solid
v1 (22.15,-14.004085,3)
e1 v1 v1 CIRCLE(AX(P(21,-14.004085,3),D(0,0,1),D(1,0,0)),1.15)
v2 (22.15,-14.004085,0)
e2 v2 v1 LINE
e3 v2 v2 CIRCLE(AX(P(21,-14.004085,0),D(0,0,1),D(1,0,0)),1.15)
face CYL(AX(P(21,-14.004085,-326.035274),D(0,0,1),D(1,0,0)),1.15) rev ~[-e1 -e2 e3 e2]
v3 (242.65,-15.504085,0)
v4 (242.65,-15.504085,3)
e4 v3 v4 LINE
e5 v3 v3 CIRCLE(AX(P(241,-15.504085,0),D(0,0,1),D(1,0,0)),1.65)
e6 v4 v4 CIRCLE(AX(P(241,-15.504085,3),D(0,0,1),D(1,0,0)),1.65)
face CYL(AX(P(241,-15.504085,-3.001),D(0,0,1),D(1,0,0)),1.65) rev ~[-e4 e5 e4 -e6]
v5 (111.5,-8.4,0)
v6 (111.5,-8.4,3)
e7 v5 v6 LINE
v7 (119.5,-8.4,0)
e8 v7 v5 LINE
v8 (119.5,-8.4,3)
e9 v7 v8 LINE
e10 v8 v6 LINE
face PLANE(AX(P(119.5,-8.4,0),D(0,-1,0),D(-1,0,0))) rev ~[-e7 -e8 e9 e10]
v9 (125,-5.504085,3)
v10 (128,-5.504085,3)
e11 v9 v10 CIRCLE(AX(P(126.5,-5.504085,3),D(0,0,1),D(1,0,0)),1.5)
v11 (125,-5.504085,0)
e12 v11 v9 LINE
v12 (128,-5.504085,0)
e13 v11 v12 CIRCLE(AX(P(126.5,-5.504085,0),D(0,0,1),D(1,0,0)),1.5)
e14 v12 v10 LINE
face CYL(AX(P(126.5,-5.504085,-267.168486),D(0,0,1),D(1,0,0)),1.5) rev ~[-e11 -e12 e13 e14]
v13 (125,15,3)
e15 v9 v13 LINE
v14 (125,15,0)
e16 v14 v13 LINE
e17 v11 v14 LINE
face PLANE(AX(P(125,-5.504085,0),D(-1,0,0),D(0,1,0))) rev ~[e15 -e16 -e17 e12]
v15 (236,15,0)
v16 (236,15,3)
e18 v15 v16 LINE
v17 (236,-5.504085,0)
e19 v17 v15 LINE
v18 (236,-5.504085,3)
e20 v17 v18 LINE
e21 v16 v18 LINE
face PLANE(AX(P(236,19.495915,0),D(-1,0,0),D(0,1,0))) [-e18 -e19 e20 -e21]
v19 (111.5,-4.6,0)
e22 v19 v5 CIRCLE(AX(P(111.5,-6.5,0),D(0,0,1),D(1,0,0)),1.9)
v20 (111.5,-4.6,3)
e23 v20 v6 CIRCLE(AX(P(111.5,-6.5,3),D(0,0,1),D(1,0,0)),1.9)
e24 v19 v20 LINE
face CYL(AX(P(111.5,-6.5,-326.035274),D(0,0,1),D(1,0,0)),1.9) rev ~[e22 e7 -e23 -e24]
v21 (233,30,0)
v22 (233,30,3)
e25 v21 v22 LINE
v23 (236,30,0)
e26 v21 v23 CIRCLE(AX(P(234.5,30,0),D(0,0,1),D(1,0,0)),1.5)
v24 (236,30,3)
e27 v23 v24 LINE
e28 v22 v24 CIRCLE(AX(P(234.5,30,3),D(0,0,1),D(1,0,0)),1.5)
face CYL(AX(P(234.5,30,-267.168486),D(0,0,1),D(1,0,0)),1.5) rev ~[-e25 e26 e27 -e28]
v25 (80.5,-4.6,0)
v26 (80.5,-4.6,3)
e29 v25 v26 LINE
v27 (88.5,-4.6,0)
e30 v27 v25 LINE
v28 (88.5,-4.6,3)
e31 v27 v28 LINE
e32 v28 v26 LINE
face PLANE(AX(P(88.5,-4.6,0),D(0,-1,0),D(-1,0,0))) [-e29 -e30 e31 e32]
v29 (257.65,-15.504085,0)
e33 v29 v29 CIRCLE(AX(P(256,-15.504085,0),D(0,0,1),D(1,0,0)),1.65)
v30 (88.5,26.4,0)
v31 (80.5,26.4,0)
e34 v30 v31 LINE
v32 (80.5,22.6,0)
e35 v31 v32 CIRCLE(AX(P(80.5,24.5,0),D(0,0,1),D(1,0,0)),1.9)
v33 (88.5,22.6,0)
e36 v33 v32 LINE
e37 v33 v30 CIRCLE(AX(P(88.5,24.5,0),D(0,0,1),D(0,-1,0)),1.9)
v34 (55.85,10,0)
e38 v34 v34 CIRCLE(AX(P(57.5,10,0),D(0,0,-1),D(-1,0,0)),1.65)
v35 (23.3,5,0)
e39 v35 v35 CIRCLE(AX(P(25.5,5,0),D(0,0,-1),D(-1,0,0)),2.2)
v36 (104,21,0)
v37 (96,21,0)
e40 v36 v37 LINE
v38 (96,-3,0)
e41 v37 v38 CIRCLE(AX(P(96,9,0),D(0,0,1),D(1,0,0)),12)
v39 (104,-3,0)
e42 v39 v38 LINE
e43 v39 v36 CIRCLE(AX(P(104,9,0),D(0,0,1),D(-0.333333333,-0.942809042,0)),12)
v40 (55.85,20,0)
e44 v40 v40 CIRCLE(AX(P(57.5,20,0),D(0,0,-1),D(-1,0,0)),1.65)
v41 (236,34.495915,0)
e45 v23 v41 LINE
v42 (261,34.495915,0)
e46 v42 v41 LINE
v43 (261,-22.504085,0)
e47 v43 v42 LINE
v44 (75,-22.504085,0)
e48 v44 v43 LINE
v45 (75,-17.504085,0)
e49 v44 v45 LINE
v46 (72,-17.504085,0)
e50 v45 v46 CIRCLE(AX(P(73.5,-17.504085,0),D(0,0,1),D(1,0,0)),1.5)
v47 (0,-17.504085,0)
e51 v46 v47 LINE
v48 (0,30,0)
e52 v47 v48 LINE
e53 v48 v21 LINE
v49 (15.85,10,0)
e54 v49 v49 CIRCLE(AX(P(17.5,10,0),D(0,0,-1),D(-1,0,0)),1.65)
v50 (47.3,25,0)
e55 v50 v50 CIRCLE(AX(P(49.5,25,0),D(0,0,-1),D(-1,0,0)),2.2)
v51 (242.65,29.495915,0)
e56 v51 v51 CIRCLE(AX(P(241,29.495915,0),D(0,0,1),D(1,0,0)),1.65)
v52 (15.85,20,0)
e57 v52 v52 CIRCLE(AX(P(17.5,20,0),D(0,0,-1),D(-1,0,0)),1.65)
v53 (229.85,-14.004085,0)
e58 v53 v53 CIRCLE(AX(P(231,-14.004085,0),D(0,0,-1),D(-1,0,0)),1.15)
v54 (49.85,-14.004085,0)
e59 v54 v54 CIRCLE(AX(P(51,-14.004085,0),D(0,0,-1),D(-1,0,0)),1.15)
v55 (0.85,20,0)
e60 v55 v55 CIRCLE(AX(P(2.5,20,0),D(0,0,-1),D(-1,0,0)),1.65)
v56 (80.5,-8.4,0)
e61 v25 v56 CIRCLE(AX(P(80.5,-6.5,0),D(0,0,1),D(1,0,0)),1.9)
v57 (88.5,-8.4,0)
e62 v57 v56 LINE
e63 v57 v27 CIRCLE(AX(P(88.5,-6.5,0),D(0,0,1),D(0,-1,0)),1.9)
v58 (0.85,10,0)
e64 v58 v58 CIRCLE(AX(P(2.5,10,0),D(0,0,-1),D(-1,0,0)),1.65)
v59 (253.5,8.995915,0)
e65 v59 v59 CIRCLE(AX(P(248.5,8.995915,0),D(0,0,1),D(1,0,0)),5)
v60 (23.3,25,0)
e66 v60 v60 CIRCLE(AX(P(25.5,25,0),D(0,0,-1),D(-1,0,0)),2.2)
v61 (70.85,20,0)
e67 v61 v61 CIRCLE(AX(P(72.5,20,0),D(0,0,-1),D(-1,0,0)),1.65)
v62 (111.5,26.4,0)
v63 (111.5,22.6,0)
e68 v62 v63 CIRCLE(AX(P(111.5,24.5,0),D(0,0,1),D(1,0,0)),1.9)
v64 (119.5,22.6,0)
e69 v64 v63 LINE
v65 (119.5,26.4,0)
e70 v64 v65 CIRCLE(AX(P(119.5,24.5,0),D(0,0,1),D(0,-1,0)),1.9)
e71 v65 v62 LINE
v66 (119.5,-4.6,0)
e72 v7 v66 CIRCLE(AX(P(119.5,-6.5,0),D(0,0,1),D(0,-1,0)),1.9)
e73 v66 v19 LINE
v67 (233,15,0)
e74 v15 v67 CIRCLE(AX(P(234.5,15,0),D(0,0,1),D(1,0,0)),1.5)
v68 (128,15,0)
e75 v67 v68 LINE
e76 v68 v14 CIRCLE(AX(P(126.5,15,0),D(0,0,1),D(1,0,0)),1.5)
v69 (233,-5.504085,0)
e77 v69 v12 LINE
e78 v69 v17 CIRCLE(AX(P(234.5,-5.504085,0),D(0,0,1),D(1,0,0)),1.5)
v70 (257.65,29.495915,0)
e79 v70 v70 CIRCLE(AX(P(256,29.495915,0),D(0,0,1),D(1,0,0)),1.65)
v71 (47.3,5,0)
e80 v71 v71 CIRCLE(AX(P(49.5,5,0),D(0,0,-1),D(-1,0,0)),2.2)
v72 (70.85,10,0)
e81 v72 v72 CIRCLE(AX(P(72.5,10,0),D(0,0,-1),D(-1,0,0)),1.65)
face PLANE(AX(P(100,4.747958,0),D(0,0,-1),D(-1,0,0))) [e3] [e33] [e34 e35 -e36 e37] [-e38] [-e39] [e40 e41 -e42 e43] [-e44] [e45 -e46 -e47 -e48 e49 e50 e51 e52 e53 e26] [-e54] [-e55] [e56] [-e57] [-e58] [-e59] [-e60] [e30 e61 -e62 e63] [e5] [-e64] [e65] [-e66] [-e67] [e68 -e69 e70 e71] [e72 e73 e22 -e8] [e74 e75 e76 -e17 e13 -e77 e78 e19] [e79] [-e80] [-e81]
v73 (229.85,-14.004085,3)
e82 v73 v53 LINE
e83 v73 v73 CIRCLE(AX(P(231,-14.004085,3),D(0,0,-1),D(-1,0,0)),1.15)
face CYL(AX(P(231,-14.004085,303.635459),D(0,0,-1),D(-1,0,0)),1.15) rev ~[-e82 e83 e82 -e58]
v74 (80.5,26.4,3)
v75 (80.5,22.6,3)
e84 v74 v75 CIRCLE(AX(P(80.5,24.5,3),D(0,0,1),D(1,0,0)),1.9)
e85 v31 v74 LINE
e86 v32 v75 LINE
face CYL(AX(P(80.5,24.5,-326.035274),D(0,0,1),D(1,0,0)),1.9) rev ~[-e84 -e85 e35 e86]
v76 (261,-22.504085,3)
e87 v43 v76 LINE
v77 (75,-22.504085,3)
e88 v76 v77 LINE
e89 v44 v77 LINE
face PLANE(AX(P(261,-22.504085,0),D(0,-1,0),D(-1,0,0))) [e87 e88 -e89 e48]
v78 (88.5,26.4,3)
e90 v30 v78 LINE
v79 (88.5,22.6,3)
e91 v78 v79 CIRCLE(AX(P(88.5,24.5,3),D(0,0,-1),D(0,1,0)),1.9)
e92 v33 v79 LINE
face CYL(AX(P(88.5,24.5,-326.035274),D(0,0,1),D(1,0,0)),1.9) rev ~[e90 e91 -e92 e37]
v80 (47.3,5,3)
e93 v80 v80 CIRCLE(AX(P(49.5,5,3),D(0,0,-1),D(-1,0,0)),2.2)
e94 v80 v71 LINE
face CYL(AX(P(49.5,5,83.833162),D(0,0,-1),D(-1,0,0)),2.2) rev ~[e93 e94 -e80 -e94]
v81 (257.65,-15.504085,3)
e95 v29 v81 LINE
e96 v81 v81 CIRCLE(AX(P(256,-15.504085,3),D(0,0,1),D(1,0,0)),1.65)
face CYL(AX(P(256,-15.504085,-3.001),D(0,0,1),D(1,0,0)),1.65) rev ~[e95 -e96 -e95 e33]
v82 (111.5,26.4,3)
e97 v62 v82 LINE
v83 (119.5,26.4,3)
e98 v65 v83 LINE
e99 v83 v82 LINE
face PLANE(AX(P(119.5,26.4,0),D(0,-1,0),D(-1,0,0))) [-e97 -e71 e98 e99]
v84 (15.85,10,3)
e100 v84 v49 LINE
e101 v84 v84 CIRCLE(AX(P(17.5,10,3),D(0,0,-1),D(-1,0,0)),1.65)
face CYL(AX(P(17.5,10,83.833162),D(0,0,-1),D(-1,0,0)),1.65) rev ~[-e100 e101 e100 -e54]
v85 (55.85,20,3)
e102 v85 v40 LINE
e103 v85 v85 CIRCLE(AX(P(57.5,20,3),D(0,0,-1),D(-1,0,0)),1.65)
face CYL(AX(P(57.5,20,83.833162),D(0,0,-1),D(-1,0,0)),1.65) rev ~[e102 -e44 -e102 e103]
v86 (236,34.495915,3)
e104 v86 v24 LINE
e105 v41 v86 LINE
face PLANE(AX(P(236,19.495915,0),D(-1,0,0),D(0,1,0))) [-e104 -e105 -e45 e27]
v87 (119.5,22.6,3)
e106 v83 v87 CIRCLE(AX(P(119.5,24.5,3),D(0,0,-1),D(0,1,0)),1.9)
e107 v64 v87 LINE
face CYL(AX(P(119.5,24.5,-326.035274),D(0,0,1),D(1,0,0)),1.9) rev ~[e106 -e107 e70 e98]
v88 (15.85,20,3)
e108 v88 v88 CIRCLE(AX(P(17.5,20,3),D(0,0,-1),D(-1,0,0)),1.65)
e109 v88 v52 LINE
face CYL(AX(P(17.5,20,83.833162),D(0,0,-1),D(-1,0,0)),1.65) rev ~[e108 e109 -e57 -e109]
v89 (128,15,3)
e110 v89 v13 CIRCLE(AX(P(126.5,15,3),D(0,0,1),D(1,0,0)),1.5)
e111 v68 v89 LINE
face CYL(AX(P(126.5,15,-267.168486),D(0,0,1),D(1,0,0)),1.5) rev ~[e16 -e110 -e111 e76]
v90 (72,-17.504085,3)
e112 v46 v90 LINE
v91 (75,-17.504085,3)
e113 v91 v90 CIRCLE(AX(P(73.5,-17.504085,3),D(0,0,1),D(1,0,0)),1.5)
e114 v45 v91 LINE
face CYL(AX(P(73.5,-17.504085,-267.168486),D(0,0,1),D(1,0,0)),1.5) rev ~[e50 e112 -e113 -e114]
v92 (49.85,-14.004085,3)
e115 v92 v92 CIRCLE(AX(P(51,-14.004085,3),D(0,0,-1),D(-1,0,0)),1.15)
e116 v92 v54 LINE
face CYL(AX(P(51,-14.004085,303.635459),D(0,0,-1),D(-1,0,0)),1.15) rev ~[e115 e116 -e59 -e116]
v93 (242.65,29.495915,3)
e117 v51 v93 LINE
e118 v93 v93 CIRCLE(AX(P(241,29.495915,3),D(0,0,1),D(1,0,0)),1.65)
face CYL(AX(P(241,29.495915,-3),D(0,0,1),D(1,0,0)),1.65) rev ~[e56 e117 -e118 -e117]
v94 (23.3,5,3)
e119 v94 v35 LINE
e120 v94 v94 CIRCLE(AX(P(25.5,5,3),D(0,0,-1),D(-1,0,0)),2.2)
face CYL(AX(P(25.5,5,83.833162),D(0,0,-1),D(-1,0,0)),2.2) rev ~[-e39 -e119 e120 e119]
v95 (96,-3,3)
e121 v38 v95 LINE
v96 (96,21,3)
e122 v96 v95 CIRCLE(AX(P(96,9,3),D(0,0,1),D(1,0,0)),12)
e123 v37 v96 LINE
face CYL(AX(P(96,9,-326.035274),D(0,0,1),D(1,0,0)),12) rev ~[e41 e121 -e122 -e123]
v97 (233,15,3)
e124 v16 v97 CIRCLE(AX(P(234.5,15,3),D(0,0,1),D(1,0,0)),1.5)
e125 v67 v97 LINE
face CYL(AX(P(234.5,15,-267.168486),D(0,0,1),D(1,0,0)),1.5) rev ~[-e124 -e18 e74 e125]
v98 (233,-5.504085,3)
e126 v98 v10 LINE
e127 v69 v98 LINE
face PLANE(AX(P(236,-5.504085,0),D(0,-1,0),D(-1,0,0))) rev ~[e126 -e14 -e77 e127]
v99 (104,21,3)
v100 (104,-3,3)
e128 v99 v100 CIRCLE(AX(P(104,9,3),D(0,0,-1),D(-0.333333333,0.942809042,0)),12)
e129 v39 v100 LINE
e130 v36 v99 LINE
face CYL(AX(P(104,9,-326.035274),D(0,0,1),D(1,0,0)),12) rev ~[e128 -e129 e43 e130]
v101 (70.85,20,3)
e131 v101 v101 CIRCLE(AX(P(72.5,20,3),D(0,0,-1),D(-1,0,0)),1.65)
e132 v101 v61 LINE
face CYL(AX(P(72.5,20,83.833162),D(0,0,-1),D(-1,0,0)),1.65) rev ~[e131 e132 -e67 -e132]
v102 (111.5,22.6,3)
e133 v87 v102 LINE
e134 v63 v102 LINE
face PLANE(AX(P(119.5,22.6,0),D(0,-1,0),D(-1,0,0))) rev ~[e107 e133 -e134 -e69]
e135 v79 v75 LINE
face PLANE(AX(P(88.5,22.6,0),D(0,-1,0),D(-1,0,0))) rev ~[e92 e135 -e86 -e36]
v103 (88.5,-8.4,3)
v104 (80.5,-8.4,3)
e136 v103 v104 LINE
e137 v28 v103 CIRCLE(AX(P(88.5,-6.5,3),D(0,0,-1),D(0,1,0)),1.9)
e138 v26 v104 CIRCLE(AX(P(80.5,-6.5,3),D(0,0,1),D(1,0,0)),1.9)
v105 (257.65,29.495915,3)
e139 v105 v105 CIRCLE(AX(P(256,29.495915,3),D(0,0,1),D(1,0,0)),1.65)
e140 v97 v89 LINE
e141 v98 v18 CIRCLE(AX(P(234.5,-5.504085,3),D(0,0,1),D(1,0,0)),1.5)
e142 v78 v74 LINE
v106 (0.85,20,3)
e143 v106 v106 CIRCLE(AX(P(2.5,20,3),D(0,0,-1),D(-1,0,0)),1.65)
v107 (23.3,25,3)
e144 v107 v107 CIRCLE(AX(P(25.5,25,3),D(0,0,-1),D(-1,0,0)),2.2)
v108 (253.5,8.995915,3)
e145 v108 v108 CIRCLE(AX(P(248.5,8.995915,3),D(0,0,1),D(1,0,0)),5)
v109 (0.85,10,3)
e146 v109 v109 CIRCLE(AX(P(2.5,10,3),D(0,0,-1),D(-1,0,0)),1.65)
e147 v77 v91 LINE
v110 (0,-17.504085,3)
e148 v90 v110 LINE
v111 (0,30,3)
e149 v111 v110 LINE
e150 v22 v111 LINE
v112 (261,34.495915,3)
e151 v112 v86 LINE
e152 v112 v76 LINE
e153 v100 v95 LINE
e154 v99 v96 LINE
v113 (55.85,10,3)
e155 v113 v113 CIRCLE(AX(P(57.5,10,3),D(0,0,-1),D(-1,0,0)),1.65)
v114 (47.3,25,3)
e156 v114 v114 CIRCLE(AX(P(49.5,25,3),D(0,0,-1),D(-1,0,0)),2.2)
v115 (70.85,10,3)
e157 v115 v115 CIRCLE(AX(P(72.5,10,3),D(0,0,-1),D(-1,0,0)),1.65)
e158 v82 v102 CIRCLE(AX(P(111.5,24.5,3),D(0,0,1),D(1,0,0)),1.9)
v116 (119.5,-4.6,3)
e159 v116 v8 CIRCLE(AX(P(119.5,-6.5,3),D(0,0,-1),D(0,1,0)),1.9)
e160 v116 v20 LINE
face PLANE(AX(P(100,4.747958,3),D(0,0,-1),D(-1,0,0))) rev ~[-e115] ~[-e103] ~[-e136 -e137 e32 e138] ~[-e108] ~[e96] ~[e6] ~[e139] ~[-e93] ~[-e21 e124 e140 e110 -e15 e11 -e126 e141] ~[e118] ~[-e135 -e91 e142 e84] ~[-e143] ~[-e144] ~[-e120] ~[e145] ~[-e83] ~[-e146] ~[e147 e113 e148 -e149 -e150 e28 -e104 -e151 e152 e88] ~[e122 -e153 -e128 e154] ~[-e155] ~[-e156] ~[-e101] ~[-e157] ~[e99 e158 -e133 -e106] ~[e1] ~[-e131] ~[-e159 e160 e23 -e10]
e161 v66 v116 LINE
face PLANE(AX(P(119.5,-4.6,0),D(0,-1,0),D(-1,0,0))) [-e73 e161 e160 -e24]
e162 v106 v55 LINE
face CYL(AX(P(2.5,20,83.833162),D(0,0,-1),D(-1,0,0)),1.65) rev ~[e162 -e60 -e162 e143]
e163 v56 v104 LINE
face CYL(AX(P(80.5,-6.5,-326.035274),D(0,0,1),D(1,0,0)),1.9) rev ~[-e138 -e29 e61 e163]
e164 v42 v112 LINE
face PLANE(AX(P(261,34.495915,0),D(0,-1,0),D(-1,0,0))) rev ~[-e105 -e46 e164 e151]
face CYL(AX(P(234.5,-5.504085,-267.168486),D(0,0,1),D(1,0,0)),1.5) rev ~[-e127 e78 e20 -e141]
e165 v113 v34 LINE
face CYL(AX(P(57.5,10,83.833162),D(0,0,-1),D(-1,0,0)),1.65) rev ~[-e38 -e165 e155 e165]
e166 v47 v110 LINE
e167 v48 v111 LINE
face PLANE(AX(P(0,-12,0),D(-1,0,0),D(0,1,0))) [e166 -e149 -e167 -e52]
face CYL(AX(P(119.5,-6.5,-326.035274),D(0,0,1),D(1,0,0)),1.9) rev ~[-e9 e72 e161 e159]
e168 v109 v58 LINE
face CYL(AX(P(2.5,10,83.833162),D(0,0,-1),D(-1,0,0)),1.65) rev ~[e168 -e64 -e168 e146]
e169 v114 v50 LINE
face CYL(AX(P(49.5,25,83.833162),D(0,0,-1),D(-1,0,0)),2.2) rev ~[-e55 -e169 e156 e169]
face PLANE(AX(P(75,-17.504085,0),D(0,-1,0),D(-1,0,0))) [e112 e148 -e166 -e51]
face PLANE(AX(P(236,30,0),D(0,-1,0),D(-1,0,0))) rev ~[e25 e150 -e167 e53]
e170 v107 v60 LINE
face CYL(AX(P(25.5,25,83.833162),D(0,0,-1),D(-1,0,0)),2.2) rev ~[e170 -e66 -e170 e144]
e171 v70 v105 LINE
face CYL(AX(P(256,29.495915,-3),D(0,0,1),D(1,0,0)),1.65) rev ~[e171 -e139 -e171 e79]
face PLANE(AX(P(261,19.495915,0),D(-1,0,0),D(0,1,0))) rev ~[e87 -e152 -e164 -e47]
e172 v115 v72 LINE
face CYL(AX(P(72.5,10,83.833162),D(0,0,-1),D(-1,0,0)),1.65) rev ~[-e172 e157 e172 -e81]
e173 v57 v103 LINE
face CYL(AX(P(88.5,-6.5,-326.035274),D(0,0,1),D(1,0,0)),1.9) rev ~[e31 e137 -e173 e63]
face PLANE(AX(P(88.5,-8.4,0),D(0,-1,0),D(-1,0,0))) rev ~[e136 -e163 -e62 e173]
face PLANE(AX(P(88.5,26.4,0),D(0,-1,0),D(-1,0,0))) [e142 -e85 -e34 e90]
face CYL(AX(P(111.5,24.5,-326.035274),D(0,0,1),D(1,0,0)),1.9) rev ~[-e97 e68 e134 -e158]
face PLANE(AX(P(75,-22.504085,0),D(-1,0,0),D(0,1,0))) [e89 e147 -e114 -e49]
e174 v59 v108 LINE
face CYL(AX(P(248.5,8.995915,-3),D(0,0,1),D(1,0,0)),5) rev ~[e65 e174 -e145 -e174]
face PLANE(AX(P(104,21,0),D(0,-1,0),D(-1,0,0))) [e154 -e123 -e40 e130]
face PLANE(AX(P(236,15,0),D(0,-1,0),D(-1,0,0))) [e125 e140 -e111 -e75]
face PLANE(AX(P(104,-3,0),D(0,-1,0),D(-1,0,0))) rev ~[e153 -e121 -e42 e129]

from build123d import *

# Parameters (mm, degrees)
SKETCH_1_W           = 75
SKETCH_1_H           = 30
EXTRUDE_1_DEPTH      = 3
HOLE_WIZARD_1_D      = 4.4
HOLE_WIZARD_2_D      = 3.3
SKETCH_8_W           = 45
SKETCH_8_H           = 42
EXTRUDE_2_DEPTH      = 3
HOLE_WIZARD_3_D      = 3.8
SKETCH_13_W          = 15
SKETCH_13_H          = 42
EXTRUDE_3_DEPTH      = 3
CUT_EXTRUDE_3_DEPTH  = 3
CUT_EXTRUDE_5_DEPTH  = 3
CUT_EXTRUDE_6_DEPTH  = 3
SKETCH_18_W          = 75
SKETCH_18_H          = 2.504084813
SKETCH_18_H_2        = 3
SKETCH_18_W_2        = 161
SKETCH_18_H_3        = 17
EXTRUDE_4_DEPTH      = 3
HOLE_WIZARD_4_D      = 2.3
SKETCH_22_W          = 25
SKETCH_22_H          = 42
EXTRUDE_5_DEPTH      = 3
HOLE_WIZARD_5_D      = 10
HOLE_WIZARD_5_DEPTH  = 3
HOLE_WIZARD_7_D      = 3.3
HOLE_WIZARD_7_DEPTH  = 3.001
SKETCH_31_W          = 25
SKETCH_31_H          = 15
EXTRUDE_6_DEPTH      = 3
HOLE_WIZARD_8_D      = 3.3
HOLE_WIZARD_8_DEPTH  = 3
SKETCH_36_W          = 161
SKETCH_36_H          = 15
EXTRUDE_7_DEPTH      = 3
HOLE_WIZARD_9_D      = 2.3
SKETCH_40_R          = 12
CUT_EXTRUDE_7_DEPTH  = 10
SKETCH_41_W          = 50
SKETCH_41_H          = 20.504084813
EXTRUDE_8_DEPTH      = 3
HOLE_WIZARD_10_D     = 3.8
HOLE_WIZARD_11_D     = 24
SKETCH_48_W          = 8
SKETCH_48_H          = 3.8
SKETCH_48_H_2        = 24
CUT_EXTRUDE_8_DEPTH  = 3
SKETCH_49_W          = 57
SKETCH_49_H          = 42
CUT_EXTRUDE_9_DEPTH  = 3
SKETCH_50_W          = 3
SKETCH_50_H          = 42
CUT_EXTRUDE_10_DEPTH = 3
SKETCH_51_W          = 75
SKETCH_51_H          = 5
CUT_EXTRUDE_11_DEPTH = 10
HOLE_WIZARD_12_D     = 3
HOLE_WIZARD_13_D     = 3


with BuildPart() as part:
    # 草图1 → 凸台-拉伸1 (new body)
    with BuildSketch(Plane.XY):
        with Locations((37.5, 15)):
            Rectangle(SKETCH_1_W, SKETCH_1_H)
    extrude(amount=EXTRUDE_1_DEPTH)

    # 孔1 (through all)
    with Locations(Plane.XY.offset(3)):
        with Locations((25.5, 25), (49.5, 25), (49.5, 5), (25.5, 5)):
            Hole(HOLE_WIZARD_1_D / 2)

    # 孔2 (through all)
    with Locations(Plane.XY.offset(3)):
        with Locations((2.5, 20), (17.5, 20), (17.5, 10), (2.5, 10), (57.5, 10), (57.5, 20), (72.5, 20), (72.5, 10)):
            Hole(HOLE_WIZARD_2_D / 2)

    # 草图8 → 凸台-拉伸2 (add)
    with BuildSketch(Plane(origin=(0, 0, 0), x_dir=(-1, 0, 0), z_dir=(0, 0, -1))):
        with Locations((22.5, 9)):
            Rectangle(SKETCH_8_W, SKETCH_8_H)
    extrude(amount=-EXTRUDE_2_DEPTH)

    # 孔3 (through all)
    with Locations(Plane.XY.offset(3)):
        with Locations((-39.5, 24.5), (-8.5, 24.5), (-8.5, -6.5), (-39.5, -6.5)):
            Hole(HOLE_WIZARD_3_D / 2)

    # 草图13 → 凸台-拉伸3 (add)
    with BuildSketch(Plane(origin=(0, 0, 0), x_dir=(-1, 0, 0), z_dir=(0, 0, -1))):
        with Locations((52.5, 9)):
            Rectangle(SKETCH_13_W, SKETCH_13_H)
    extrude(amount=-EXTRUDE_3_DEPTH)

    # 草图14 → 切除-拉伸3 (cut)
    with BuildSketch(Plane(origin=(0, 0, 0), x_dir=(-1, 0, 0), z_dir=(0, 0, -1))):
        with BuildLine():
            Line((23.5, 26.4), (8.5, 26.4))
            ThreePointArc((8.5, 26.4), (9.843502884, 25.843502884), (10.4, 24.5))
            ThreePointArc((10.4, 24.5), (9.843502884, 23.156497116), (8.5, 22.6))
            Line((8.5, 22.6), (23.5, 22.6))
            ThreePointArc((23.5, 22.6), (21.6, 24.5), (23.5, 26.4))
        make_face()
        with BuildLine():
            ThreePointArc((25.4, 24.5), (24.843502884, 25.843502884), (23.5, 26.4))
            Line((23.5, 26.4), (23.5, 22.6))
            ThreePointArc((23.5, 22.6), (24.843502884, 23.156497116), (25.4, 24.5))
        make_face()
        with BuildLine():
            Line((23.5, 22.6), (23.5, 26.4))
            ThreePointArc((23.5, 26.4), (21.6, 24.5), (23.5, 22.6))
        make_face()
        with BuildLine():
            ThreePointArc((10.4, 24.5), (9.843502884, 25.843502884), (8.5, 26.4))
            Line((8.5, 26.4), (8.5, 22.6))
            ThreePointArc((8.5, 22.6), (9.843502884, 23.156497116), (10.4, 24.5))
        make_face()
        with BuildLine():
            Line((8.5, 22.6), (8.5, 26.4))
            ThreePointArc((8.5, 26.4), (6.6, 24.5), (8.5, 22.6))
        make_face()
        with BuildLine():
            Line((23.5, -4.6), (8.5, -4.6))
            ThreePointArc((8.5, -4.6), (9.843502884, -5.156497116), (10.4, -6.5))
            ThreePointArc((10.4, -6.5), (9.843502884, -7.843502884), (8.5, -8.4))
            Line((8.5, -8.4), (23.5, -8.4))
            ThreePointArc((23.5, -8.4), (21.6, -6.5), (23.5, -4.6))
        make_face()
        with BuildLine():
            ThreePointArc((10.4, -6.5), (9.843502884, -5.156497116), (8.5, -4.6))
            Line((8.5, -4.6), (8.5, -8.4))
            ThreePointArc((8.5, -8.4), (9.843502884, -7.843502884), (10.4, -6.5))
        make_face()
        with BuildLine():
            Line((8.5, -8.4), (8.5, -4.6))
            ThreePointArc((8.5, -4.6), (6.6, -6.5), (8.5, -8.4))
        make_face()
        with BuildLine():
            ThreePointArc((25.4, -6.5), (24.843502884, -5.156497116), (23.5, -4.6))
            Line((23.5, -4.6), (23.5, -8.4))
            ThreePointArc((23.5, -8.4), (24.843502884, -7.843502884), (25.4, -6.5))
        make_face()
        with BuildLine():
            Line((23.5, -8.4), (23.5, -4.6))
            ThreePointArc((23.5, -4.6), (21.6, -6.5), (23.5, -8.4))
        make_face()
        with BuildLine():
            ThreePointArc((39.5, 26.4), (40.843502884, 25.843502884), (41.4, 24.5))
            Line((41.4, 24.5), (52.6, 24.5))
            ThreePointArc((52.6, 24.5), (53.156497116, 25.843502884), (54.5, 26.4))
            Line((54.5, 26.4), (39.5, 26.4))
        make_face()
        with BuildLine():
            Line((52.6, 24.5), (41.4, 24.5))
            ThreePointArc((41.4, 24.5), (40.843502884, 23.156497116), (39.5, 22.6))
            Line((39.5, 22.6), (54.5, 22.6))
            ThreePointArc((54.5, 22.6), (53.156497116, 23.156497116), (52.6, 24.5))
        make_face()
        with BuildLine():
            Line((41.4, 24.5), (39.5, 24.5))
            Line((39.5, 24.5), (39.5, 22.6))
            ThreePointArc((39.5, 22.6), (40.843502884, 23.156497116), (41.4, 24.5))
        make_face()
        with BuildLine():
            Line((39.5, 26.4), (39.5, 24.5))
            Line((39.5, 24.5), (41.4, 24.5))
            ThreePointArc((41.4, 24.5), (40.843502884, 25.843502884), (39.5, 26.4))
        make_face()
        with BuildLine():
            Line((39.5, 22.6), (39.5, 24.5))
            Line((39.5, 24.5), (39.5, 26.4))
            ThreePointArc((39.5, 26.4), (37.6, 24.5), (39.5, 22.6))
        make_face()
        with BuildLine():
            Line((54.5, 24.5), (54.5, 22.6))
            ThreePointArc((54.5, 22.6), (55.843502884, 23.156497116), (56.4, 24.5))
            ThreePointArc((56.4, 24.5), (55.843502884, 25.843502884), (54.5, 26.4))
            Line((54.5, 26.4), (54.5, 24.5))
        make_face()
        with BuildLine():
            Line((54.5, 24.5), (52.6, 24.5))
            ThreePointArc((52.6, 24.5), (53.156497116, 23.156497116), (54.5, 22.6))
            Line((54.5, 22.6), (54.5, 24.5))
        make_face()
        with BuildLine():
            ThreePointArc((54.5, 26.4), (53.156497116, 25.843502884), (52.6, 24.5))
            Line((52.6, 24.5), (54.5, 24.5))
            Line((54.5, 24.5), (54.5, 26.4))
        make_face()
        with BuildLine():
            Line((54.5, -4.6), (39.5, -4.6))
            ThreePointArc((39.5, -4.6), (40.843502884, -5.156497116), (41.4, -6.5))
            Line((41.4, -6.5), (52.6, -6.5))
            ThreePointArc((52.6, -6.5), (53.156497116, -5.156497116), (54.5, -4.6))
        make_face()
        with BuildLine():
            Line((52.6, -6.5), (41.4, -6.5))
            ThreePointArc((41.4, -6.5), (40.843502884, -7.843502884), (39.5, -8.4))
            Line((39.5, -8.4), (54.5, -8.4))
            ThreePointArc((54.5, -8.4), (53.156497116, -7.843502884), (52.6, -6.5))
        make_face()
        with BuildLine():
            Line((54.5, -6.5), (54.5, -4.6))
            ThreePointArc((54.5, -4.6), (53.156497116, -5.156497116), (52.6, -6.5))
            Line((52.6, -6.5), (54.5, -6.5))
        make_face()
        with BuildLine():
            Line((54.5, -8.4), (54.5, -6.5))
            Line((54.5, -6.5), (52.6, -6.5))
            ThreePointArc((52.6, -6.5), (53.156497116, -7.843502884), (54.5, -8.4))
        make_face()
        with BuildLine():
            ThreePointArc((56.4, -6.5), (55.843502884, -5.156497116), (54.5, -4.6))
            Line((54.5, -4.6), (54.5, -6.5))
            Line((54.5, -6.5), (54.5, -8.4))
            ThreePointArc((54.5, -8.4), (55.843502884, -7.843502884), (56.4, -6.5))
        make_face()
        with BuildLine():
            ThreePointArc((41.4, -6.5), (40.843502884, -5.156497116), (39.5, -4.6))
            Line((39.5, -4.6), (39.5, -6.5))
            Line((39.5, -6.5), (41.4, -6.5))
        make_face()
        with BuildLine():
            Line((41.4, -6.5), (39.5, -6.5))
            Line((39.5, -6.5), (39.5, -8.4))
            ThreePointArc((39.5, -8.4), (40.843502884, -7.843502884), (41.4, -6.5))
        make_face()
        with BuildLine():
            Line((39.5, -6.5), (39.5, -4.6))
            ThreePointArc((39.5, -4.6), (37.6, -6.5), (39.5, -8.4))
            Line((39.5, -8.4), (39.5, -6.5))
        make_face()
    extrude(amount=-CUT_EXTRUDE_3_DEPTH, mode=Mode.SUBTRACT)

    # 草图16 → 切除-拉伸5 (cut)
    with BuildSketch(Plane(origin=(0, 0, 0), x_dir=(-1, 0, 0), z_dir=(0, 0, -1))):
        with BuildLine():
            Line((24, 20.504084813), (24, -2.489125293))
            Line((24, -2.489125293), (39.5, -2.489125293))
            ThreePointArc((39.5, -2.489125293), (50.5, 9), (39.5, 20.489125293))
            Line((39.5, 20.489125293), (39.5, 20.504084813))
            Line((39.5, 20.504084813), (24, 20.504084813))
        make_face()
    extrude(amount=-CUT_EXTRUDE_5_DEPTH, mode=Mode.SUBTRACT)

    # 草图17 → 切除-拉伸6 (cut)
    with BuildSketch(Plane(origin=(0, 0, 0), x_dir=(-1, 0, 0), z_dir=(0, 0, -1))):
        with BuildLine():
            Line((24, -2.489125293), (24, 20.504084813))
            ThreePointArc((24, 20.504084813), (12.495915187, 9), (24, -2.504084813))
            Line((24, -2.504084813), (24, -2.489125293))
        make_face()
    extrude(amount=-CUT_EXTRUDE_6_DEPTH, mode=Mode.SUBTRACT)

    # 草图18 → 凸台-拉伸4 (add)
    with BuildSketch(Plane(origin=(0, 0, 0), x_dir=(-1, 0, 0), z_dir=(0, 0, -1))):
        with Locations((-37.5, -1.252042406)):
            Rectangle(SKETCH_18_W, SKETCH_18_H)
        with Locations((-37.5, -4.004084813)):
            Rectangle(SKETCH_18_W, SKETCH_18_H_2)
        Polygon((0, -12), (0, -5.504084813), (-75, -5.504084813), (-75, -22.504084813), (0, -22.504084813), align=None)
        with Locations((-155.5, -14.004084813)):
            Rectangle(SKETCH_18_W_2, SKETCH_18_H_3)
    extrude(amount=-EXTRUDE_4_DEPTH)

    # 孔4 (through all)
    with Locations(Plane.XY.offset(3)):
        with Locations((51, -14.004084813), (231, -14.004084813)):
            Hole(HOLE_WIZARD_4_D / 2)

    # 草图22 → 凸台-拉伸5 (add)
    with BuildSketch(Plane(origin=(0, 0, 0), x_dir=(-1, 0, 0), z_dir=(0, 0, -1))):
        with Locations((-248.5, -1.504084813)):
            Rectangle(SKETCH_22_W, SKETCH_22_H)
    extrude(amount=-EXTRUDE_5_DEPTH)

    # 孔5
    with Locations(Plane(origin=(0, 0, 0), x_dir=(-1, 0, 0), z_dir=(0, 0, -1))):
        with Locations((-248.5, 8.995915187), (-277.5, 6.995915187)):
            Hole(HOLE_WIZARD_5_D / 2, depth=HOLE_WIZARD_5_DEPTH)

    # 孔7
    with Locations(Plane(origin=(0, 0, 0), x_dir=(-1, 0, 0), z_dir=(0, 0, -1))):
        with Locations((-241, -15.504084813), (-285, -15.504084813), (-270, -15.504084813), (-256, -15.504084813)):
            Hole(HOLE_WIZARD_7_D / 2, depth=HOLE_WIZARD_7_DEPTH)

    # 草图31 → 凸台-拉伸6 (add)
    with BuildSketch(Plane(origin=(0, 0, 0), x_dir=(-1, 0, 0), z_dir=(0, 0, -1))):
        with Locations((-248.5, 26.995915187)):
            Rectangle(SKETCH_31_W, SKETCH_31_H)
    extrude(amount=-EXTRUDE_6_DEPTH)

    # 孔8
    with Locations(Plane(origin=(0, 0, 0), x_dir=(-1, 0, 0), z_dir=(0, 0, -1))):
        with Locations((-241, 29.495915187), (-285, 29.495915187), (-270, 29.495915187), (-256, 29.495915187)):
            Hole(HOLE_WIZARD_8_D / 2, depth=HOLE_WIZARD_8_DEPTH)

    # 草图36 → 凸台-拉伸7 (add)
    with BuildSketch(Plane(origin=(0, 0, 0), x_dir=(-1, 0, 0), z_dir=(0, 0, -1))):
        with Locations((-155.5, 22.5)):
            Rectangle(SKETCH_36_W, SKETCH_36_H)
    extrude(amount=-EXTRUDE_7_DEPTH)

    # 孔9 (through all)
    with Locations(Plane(origin=(0, 0, 0), x_dir=(-1, 0, 0), z_dir=(0, 0, -1))):
        with Locations((-21, -14.004084813)):
            Hole(HOLE_WIZARD_9_D / 2)

    # 草图40 → 切除-拉伸7 (cut)
    with BuildSketch(Plane(origin=(0, 0, 0), x_dir=(-1, 0, 0), z_dir=(0, 0, -1))):
        with Locations((39, 9)):
            Circle(SKETCH_40_R)
        with Locations((24, 9)):
            Circle(SKETCH_40_R)
        with BuildLine():
            Line((39, 21), (24, 21))
            ThreePointArc((24, 21), (27.974294656, 20.322763885), (31.5, 18.367496998))
            ThreePointArc((31.5, 18.367496998), (35.025705344, 20.322763885), (39, 21))
        make_face()
        with BuildLine():
            ThreePointArc((31.5, -0.367496998), (27.974294656, -2.322763885), (24, -3))
            Line((24, -3), (39, -3))
            ThreePointArc((39, -3), (35.025705344, -2.322763885), (31.5, -0.367496998))
        make_face()
    extrude(amount=-CUT_EXTRUDE_7_DEPTH, mode=Mode.SUBTRACT)

    # 草图41 → 凸台-拉伸8 (add)
    with BuildSketch(Plane(origin=(0, 0, 0), x_dir=(-1, 0, 0), z_dir=(0, 0, -1))):
        with Locations((-100, 4.747957594)):
            Rectangle(SKETCH_41_W, SKETCH_41_H)
    extrude(amount=-EXTRUDE_8_DEPTH)

    # 孔10 (through all)
    with Locations(Plane(origin=(0, 0, 0), x_dir=(-1, 0, 0), z_dir=(0, 0, -1))):
        with Locations((-119.5, 24.5), (-111.5, 24.5), (-88.5, 24.5), (-80.5, 24.5), (-88.5, -6.5), (-80.5, -6.5), (-119.5, -6.5), (-111.5, -6.5)):
            Hole(HOLE_WIZARD_10_D / 2)

    # 孔11 (through all)
    with Locations(Plane(origin=(0, 0, 0), x_dir=(-1, 0, 0), z_dir=(0, 0, -1))):
        with Locations((-104, 9), (-96, 9)):
            Hole(HOLE_WIZARD_11_D / 2)

    # 草图48 → 切除-拉伸8 (cut)
    with BuildSketch(Plane(origin=(0, 0, 0), x_dir=(-1, 0, 0), z_dir=(0, 0, -1))):
        with Locations((-115.5, 24.5)):
            Rectangle(SKETCH_48_W, SKETCH_48_H)
        with Locations((-84.5, 24.5)):
            Rectangle(SKETCH_48_W, SKETCH_48_H)
        with Locations((-115.5, -6.5)):
            Rectangle(SKETCH_48_W, SKETCH_48_H)
        with Locations((-84.5, -6.5)):
            Rectangle(SKETCH_48_W, SKETCH_48_H)
        with Locations((-100, 9)):
            Rectangle(SKETCH_48_W, SKETCH_48_H_2)
    extrude(amount=-CUT_EXTRUDE_8_DEPTH, mode=Mode.SUBTRACT)

    # 草图49 → 切除-拉伸9 (cut)
    with BuildSketch(Plane(origin=(0, 0, 0), x_dir=(-1, 0, 0), z_dir=(0, 0, -1))):
        with Locations((31.5, 9)):
            Rectangle(SKETCH_49_W, SKETCH_49_H)
    extrude(amount=-CUT_EXTRUDE_9_DEPTH, mode=Mode.SUBTRACT)

    # 草图50 → 切除-拉伸10 (cut)
    with BuildSketch(Plane(origin=(0, 0, 0), x_dir=(-1, 0, 0), z_dir=(0, 0, -1))):
        with Locations((1.5, 9)):
            Rectangle(SKETCH_50_W, SKETCH_50_H)
    extrude(amount=-CUT_EXTRUDE_10_DEPTH, mode=Mode.SUBTRACT)

    # 草图51 → 切除-拉伸11 (cut)
    with BuildSketch(Plane(origin=(0, 0, 0), x_dir=(-1, 0, 0), z_dir=(0, 0, -1))):
        with Locations((-37.5, -20.004084813)):
            Rectangle(SKETCH_51_W, SKETCH_51_H)
    extrude(amount=-CUT_EXTRUDE_11_DEPTH, mode=Mode.SUBTRACT)

    # 孔12 (through all)
    with Locations(Plane(origin=(0, 0, 0), x_dir=(-1, 0, 0), z_dir=(0, 0, -1))):
        with Locations((-234.5, 15), (-234.5, -5.504084813), (-126.5, -5.504084813), (-126.5, 15)):
            Hole(HOLE_WIZARD_12_D / 2)

    # 孔13 (through all)
    with Locations(Plane(origin=(0, 0, 0), x_dir=(-1, 0, 0), z_dir=(0, 0, -1))):
        with Locations((-234.5, 30), (-73.5, -17.504084813)):
            Hole(HOLE_WIZARD_13_D / 2)


solid = part.part
